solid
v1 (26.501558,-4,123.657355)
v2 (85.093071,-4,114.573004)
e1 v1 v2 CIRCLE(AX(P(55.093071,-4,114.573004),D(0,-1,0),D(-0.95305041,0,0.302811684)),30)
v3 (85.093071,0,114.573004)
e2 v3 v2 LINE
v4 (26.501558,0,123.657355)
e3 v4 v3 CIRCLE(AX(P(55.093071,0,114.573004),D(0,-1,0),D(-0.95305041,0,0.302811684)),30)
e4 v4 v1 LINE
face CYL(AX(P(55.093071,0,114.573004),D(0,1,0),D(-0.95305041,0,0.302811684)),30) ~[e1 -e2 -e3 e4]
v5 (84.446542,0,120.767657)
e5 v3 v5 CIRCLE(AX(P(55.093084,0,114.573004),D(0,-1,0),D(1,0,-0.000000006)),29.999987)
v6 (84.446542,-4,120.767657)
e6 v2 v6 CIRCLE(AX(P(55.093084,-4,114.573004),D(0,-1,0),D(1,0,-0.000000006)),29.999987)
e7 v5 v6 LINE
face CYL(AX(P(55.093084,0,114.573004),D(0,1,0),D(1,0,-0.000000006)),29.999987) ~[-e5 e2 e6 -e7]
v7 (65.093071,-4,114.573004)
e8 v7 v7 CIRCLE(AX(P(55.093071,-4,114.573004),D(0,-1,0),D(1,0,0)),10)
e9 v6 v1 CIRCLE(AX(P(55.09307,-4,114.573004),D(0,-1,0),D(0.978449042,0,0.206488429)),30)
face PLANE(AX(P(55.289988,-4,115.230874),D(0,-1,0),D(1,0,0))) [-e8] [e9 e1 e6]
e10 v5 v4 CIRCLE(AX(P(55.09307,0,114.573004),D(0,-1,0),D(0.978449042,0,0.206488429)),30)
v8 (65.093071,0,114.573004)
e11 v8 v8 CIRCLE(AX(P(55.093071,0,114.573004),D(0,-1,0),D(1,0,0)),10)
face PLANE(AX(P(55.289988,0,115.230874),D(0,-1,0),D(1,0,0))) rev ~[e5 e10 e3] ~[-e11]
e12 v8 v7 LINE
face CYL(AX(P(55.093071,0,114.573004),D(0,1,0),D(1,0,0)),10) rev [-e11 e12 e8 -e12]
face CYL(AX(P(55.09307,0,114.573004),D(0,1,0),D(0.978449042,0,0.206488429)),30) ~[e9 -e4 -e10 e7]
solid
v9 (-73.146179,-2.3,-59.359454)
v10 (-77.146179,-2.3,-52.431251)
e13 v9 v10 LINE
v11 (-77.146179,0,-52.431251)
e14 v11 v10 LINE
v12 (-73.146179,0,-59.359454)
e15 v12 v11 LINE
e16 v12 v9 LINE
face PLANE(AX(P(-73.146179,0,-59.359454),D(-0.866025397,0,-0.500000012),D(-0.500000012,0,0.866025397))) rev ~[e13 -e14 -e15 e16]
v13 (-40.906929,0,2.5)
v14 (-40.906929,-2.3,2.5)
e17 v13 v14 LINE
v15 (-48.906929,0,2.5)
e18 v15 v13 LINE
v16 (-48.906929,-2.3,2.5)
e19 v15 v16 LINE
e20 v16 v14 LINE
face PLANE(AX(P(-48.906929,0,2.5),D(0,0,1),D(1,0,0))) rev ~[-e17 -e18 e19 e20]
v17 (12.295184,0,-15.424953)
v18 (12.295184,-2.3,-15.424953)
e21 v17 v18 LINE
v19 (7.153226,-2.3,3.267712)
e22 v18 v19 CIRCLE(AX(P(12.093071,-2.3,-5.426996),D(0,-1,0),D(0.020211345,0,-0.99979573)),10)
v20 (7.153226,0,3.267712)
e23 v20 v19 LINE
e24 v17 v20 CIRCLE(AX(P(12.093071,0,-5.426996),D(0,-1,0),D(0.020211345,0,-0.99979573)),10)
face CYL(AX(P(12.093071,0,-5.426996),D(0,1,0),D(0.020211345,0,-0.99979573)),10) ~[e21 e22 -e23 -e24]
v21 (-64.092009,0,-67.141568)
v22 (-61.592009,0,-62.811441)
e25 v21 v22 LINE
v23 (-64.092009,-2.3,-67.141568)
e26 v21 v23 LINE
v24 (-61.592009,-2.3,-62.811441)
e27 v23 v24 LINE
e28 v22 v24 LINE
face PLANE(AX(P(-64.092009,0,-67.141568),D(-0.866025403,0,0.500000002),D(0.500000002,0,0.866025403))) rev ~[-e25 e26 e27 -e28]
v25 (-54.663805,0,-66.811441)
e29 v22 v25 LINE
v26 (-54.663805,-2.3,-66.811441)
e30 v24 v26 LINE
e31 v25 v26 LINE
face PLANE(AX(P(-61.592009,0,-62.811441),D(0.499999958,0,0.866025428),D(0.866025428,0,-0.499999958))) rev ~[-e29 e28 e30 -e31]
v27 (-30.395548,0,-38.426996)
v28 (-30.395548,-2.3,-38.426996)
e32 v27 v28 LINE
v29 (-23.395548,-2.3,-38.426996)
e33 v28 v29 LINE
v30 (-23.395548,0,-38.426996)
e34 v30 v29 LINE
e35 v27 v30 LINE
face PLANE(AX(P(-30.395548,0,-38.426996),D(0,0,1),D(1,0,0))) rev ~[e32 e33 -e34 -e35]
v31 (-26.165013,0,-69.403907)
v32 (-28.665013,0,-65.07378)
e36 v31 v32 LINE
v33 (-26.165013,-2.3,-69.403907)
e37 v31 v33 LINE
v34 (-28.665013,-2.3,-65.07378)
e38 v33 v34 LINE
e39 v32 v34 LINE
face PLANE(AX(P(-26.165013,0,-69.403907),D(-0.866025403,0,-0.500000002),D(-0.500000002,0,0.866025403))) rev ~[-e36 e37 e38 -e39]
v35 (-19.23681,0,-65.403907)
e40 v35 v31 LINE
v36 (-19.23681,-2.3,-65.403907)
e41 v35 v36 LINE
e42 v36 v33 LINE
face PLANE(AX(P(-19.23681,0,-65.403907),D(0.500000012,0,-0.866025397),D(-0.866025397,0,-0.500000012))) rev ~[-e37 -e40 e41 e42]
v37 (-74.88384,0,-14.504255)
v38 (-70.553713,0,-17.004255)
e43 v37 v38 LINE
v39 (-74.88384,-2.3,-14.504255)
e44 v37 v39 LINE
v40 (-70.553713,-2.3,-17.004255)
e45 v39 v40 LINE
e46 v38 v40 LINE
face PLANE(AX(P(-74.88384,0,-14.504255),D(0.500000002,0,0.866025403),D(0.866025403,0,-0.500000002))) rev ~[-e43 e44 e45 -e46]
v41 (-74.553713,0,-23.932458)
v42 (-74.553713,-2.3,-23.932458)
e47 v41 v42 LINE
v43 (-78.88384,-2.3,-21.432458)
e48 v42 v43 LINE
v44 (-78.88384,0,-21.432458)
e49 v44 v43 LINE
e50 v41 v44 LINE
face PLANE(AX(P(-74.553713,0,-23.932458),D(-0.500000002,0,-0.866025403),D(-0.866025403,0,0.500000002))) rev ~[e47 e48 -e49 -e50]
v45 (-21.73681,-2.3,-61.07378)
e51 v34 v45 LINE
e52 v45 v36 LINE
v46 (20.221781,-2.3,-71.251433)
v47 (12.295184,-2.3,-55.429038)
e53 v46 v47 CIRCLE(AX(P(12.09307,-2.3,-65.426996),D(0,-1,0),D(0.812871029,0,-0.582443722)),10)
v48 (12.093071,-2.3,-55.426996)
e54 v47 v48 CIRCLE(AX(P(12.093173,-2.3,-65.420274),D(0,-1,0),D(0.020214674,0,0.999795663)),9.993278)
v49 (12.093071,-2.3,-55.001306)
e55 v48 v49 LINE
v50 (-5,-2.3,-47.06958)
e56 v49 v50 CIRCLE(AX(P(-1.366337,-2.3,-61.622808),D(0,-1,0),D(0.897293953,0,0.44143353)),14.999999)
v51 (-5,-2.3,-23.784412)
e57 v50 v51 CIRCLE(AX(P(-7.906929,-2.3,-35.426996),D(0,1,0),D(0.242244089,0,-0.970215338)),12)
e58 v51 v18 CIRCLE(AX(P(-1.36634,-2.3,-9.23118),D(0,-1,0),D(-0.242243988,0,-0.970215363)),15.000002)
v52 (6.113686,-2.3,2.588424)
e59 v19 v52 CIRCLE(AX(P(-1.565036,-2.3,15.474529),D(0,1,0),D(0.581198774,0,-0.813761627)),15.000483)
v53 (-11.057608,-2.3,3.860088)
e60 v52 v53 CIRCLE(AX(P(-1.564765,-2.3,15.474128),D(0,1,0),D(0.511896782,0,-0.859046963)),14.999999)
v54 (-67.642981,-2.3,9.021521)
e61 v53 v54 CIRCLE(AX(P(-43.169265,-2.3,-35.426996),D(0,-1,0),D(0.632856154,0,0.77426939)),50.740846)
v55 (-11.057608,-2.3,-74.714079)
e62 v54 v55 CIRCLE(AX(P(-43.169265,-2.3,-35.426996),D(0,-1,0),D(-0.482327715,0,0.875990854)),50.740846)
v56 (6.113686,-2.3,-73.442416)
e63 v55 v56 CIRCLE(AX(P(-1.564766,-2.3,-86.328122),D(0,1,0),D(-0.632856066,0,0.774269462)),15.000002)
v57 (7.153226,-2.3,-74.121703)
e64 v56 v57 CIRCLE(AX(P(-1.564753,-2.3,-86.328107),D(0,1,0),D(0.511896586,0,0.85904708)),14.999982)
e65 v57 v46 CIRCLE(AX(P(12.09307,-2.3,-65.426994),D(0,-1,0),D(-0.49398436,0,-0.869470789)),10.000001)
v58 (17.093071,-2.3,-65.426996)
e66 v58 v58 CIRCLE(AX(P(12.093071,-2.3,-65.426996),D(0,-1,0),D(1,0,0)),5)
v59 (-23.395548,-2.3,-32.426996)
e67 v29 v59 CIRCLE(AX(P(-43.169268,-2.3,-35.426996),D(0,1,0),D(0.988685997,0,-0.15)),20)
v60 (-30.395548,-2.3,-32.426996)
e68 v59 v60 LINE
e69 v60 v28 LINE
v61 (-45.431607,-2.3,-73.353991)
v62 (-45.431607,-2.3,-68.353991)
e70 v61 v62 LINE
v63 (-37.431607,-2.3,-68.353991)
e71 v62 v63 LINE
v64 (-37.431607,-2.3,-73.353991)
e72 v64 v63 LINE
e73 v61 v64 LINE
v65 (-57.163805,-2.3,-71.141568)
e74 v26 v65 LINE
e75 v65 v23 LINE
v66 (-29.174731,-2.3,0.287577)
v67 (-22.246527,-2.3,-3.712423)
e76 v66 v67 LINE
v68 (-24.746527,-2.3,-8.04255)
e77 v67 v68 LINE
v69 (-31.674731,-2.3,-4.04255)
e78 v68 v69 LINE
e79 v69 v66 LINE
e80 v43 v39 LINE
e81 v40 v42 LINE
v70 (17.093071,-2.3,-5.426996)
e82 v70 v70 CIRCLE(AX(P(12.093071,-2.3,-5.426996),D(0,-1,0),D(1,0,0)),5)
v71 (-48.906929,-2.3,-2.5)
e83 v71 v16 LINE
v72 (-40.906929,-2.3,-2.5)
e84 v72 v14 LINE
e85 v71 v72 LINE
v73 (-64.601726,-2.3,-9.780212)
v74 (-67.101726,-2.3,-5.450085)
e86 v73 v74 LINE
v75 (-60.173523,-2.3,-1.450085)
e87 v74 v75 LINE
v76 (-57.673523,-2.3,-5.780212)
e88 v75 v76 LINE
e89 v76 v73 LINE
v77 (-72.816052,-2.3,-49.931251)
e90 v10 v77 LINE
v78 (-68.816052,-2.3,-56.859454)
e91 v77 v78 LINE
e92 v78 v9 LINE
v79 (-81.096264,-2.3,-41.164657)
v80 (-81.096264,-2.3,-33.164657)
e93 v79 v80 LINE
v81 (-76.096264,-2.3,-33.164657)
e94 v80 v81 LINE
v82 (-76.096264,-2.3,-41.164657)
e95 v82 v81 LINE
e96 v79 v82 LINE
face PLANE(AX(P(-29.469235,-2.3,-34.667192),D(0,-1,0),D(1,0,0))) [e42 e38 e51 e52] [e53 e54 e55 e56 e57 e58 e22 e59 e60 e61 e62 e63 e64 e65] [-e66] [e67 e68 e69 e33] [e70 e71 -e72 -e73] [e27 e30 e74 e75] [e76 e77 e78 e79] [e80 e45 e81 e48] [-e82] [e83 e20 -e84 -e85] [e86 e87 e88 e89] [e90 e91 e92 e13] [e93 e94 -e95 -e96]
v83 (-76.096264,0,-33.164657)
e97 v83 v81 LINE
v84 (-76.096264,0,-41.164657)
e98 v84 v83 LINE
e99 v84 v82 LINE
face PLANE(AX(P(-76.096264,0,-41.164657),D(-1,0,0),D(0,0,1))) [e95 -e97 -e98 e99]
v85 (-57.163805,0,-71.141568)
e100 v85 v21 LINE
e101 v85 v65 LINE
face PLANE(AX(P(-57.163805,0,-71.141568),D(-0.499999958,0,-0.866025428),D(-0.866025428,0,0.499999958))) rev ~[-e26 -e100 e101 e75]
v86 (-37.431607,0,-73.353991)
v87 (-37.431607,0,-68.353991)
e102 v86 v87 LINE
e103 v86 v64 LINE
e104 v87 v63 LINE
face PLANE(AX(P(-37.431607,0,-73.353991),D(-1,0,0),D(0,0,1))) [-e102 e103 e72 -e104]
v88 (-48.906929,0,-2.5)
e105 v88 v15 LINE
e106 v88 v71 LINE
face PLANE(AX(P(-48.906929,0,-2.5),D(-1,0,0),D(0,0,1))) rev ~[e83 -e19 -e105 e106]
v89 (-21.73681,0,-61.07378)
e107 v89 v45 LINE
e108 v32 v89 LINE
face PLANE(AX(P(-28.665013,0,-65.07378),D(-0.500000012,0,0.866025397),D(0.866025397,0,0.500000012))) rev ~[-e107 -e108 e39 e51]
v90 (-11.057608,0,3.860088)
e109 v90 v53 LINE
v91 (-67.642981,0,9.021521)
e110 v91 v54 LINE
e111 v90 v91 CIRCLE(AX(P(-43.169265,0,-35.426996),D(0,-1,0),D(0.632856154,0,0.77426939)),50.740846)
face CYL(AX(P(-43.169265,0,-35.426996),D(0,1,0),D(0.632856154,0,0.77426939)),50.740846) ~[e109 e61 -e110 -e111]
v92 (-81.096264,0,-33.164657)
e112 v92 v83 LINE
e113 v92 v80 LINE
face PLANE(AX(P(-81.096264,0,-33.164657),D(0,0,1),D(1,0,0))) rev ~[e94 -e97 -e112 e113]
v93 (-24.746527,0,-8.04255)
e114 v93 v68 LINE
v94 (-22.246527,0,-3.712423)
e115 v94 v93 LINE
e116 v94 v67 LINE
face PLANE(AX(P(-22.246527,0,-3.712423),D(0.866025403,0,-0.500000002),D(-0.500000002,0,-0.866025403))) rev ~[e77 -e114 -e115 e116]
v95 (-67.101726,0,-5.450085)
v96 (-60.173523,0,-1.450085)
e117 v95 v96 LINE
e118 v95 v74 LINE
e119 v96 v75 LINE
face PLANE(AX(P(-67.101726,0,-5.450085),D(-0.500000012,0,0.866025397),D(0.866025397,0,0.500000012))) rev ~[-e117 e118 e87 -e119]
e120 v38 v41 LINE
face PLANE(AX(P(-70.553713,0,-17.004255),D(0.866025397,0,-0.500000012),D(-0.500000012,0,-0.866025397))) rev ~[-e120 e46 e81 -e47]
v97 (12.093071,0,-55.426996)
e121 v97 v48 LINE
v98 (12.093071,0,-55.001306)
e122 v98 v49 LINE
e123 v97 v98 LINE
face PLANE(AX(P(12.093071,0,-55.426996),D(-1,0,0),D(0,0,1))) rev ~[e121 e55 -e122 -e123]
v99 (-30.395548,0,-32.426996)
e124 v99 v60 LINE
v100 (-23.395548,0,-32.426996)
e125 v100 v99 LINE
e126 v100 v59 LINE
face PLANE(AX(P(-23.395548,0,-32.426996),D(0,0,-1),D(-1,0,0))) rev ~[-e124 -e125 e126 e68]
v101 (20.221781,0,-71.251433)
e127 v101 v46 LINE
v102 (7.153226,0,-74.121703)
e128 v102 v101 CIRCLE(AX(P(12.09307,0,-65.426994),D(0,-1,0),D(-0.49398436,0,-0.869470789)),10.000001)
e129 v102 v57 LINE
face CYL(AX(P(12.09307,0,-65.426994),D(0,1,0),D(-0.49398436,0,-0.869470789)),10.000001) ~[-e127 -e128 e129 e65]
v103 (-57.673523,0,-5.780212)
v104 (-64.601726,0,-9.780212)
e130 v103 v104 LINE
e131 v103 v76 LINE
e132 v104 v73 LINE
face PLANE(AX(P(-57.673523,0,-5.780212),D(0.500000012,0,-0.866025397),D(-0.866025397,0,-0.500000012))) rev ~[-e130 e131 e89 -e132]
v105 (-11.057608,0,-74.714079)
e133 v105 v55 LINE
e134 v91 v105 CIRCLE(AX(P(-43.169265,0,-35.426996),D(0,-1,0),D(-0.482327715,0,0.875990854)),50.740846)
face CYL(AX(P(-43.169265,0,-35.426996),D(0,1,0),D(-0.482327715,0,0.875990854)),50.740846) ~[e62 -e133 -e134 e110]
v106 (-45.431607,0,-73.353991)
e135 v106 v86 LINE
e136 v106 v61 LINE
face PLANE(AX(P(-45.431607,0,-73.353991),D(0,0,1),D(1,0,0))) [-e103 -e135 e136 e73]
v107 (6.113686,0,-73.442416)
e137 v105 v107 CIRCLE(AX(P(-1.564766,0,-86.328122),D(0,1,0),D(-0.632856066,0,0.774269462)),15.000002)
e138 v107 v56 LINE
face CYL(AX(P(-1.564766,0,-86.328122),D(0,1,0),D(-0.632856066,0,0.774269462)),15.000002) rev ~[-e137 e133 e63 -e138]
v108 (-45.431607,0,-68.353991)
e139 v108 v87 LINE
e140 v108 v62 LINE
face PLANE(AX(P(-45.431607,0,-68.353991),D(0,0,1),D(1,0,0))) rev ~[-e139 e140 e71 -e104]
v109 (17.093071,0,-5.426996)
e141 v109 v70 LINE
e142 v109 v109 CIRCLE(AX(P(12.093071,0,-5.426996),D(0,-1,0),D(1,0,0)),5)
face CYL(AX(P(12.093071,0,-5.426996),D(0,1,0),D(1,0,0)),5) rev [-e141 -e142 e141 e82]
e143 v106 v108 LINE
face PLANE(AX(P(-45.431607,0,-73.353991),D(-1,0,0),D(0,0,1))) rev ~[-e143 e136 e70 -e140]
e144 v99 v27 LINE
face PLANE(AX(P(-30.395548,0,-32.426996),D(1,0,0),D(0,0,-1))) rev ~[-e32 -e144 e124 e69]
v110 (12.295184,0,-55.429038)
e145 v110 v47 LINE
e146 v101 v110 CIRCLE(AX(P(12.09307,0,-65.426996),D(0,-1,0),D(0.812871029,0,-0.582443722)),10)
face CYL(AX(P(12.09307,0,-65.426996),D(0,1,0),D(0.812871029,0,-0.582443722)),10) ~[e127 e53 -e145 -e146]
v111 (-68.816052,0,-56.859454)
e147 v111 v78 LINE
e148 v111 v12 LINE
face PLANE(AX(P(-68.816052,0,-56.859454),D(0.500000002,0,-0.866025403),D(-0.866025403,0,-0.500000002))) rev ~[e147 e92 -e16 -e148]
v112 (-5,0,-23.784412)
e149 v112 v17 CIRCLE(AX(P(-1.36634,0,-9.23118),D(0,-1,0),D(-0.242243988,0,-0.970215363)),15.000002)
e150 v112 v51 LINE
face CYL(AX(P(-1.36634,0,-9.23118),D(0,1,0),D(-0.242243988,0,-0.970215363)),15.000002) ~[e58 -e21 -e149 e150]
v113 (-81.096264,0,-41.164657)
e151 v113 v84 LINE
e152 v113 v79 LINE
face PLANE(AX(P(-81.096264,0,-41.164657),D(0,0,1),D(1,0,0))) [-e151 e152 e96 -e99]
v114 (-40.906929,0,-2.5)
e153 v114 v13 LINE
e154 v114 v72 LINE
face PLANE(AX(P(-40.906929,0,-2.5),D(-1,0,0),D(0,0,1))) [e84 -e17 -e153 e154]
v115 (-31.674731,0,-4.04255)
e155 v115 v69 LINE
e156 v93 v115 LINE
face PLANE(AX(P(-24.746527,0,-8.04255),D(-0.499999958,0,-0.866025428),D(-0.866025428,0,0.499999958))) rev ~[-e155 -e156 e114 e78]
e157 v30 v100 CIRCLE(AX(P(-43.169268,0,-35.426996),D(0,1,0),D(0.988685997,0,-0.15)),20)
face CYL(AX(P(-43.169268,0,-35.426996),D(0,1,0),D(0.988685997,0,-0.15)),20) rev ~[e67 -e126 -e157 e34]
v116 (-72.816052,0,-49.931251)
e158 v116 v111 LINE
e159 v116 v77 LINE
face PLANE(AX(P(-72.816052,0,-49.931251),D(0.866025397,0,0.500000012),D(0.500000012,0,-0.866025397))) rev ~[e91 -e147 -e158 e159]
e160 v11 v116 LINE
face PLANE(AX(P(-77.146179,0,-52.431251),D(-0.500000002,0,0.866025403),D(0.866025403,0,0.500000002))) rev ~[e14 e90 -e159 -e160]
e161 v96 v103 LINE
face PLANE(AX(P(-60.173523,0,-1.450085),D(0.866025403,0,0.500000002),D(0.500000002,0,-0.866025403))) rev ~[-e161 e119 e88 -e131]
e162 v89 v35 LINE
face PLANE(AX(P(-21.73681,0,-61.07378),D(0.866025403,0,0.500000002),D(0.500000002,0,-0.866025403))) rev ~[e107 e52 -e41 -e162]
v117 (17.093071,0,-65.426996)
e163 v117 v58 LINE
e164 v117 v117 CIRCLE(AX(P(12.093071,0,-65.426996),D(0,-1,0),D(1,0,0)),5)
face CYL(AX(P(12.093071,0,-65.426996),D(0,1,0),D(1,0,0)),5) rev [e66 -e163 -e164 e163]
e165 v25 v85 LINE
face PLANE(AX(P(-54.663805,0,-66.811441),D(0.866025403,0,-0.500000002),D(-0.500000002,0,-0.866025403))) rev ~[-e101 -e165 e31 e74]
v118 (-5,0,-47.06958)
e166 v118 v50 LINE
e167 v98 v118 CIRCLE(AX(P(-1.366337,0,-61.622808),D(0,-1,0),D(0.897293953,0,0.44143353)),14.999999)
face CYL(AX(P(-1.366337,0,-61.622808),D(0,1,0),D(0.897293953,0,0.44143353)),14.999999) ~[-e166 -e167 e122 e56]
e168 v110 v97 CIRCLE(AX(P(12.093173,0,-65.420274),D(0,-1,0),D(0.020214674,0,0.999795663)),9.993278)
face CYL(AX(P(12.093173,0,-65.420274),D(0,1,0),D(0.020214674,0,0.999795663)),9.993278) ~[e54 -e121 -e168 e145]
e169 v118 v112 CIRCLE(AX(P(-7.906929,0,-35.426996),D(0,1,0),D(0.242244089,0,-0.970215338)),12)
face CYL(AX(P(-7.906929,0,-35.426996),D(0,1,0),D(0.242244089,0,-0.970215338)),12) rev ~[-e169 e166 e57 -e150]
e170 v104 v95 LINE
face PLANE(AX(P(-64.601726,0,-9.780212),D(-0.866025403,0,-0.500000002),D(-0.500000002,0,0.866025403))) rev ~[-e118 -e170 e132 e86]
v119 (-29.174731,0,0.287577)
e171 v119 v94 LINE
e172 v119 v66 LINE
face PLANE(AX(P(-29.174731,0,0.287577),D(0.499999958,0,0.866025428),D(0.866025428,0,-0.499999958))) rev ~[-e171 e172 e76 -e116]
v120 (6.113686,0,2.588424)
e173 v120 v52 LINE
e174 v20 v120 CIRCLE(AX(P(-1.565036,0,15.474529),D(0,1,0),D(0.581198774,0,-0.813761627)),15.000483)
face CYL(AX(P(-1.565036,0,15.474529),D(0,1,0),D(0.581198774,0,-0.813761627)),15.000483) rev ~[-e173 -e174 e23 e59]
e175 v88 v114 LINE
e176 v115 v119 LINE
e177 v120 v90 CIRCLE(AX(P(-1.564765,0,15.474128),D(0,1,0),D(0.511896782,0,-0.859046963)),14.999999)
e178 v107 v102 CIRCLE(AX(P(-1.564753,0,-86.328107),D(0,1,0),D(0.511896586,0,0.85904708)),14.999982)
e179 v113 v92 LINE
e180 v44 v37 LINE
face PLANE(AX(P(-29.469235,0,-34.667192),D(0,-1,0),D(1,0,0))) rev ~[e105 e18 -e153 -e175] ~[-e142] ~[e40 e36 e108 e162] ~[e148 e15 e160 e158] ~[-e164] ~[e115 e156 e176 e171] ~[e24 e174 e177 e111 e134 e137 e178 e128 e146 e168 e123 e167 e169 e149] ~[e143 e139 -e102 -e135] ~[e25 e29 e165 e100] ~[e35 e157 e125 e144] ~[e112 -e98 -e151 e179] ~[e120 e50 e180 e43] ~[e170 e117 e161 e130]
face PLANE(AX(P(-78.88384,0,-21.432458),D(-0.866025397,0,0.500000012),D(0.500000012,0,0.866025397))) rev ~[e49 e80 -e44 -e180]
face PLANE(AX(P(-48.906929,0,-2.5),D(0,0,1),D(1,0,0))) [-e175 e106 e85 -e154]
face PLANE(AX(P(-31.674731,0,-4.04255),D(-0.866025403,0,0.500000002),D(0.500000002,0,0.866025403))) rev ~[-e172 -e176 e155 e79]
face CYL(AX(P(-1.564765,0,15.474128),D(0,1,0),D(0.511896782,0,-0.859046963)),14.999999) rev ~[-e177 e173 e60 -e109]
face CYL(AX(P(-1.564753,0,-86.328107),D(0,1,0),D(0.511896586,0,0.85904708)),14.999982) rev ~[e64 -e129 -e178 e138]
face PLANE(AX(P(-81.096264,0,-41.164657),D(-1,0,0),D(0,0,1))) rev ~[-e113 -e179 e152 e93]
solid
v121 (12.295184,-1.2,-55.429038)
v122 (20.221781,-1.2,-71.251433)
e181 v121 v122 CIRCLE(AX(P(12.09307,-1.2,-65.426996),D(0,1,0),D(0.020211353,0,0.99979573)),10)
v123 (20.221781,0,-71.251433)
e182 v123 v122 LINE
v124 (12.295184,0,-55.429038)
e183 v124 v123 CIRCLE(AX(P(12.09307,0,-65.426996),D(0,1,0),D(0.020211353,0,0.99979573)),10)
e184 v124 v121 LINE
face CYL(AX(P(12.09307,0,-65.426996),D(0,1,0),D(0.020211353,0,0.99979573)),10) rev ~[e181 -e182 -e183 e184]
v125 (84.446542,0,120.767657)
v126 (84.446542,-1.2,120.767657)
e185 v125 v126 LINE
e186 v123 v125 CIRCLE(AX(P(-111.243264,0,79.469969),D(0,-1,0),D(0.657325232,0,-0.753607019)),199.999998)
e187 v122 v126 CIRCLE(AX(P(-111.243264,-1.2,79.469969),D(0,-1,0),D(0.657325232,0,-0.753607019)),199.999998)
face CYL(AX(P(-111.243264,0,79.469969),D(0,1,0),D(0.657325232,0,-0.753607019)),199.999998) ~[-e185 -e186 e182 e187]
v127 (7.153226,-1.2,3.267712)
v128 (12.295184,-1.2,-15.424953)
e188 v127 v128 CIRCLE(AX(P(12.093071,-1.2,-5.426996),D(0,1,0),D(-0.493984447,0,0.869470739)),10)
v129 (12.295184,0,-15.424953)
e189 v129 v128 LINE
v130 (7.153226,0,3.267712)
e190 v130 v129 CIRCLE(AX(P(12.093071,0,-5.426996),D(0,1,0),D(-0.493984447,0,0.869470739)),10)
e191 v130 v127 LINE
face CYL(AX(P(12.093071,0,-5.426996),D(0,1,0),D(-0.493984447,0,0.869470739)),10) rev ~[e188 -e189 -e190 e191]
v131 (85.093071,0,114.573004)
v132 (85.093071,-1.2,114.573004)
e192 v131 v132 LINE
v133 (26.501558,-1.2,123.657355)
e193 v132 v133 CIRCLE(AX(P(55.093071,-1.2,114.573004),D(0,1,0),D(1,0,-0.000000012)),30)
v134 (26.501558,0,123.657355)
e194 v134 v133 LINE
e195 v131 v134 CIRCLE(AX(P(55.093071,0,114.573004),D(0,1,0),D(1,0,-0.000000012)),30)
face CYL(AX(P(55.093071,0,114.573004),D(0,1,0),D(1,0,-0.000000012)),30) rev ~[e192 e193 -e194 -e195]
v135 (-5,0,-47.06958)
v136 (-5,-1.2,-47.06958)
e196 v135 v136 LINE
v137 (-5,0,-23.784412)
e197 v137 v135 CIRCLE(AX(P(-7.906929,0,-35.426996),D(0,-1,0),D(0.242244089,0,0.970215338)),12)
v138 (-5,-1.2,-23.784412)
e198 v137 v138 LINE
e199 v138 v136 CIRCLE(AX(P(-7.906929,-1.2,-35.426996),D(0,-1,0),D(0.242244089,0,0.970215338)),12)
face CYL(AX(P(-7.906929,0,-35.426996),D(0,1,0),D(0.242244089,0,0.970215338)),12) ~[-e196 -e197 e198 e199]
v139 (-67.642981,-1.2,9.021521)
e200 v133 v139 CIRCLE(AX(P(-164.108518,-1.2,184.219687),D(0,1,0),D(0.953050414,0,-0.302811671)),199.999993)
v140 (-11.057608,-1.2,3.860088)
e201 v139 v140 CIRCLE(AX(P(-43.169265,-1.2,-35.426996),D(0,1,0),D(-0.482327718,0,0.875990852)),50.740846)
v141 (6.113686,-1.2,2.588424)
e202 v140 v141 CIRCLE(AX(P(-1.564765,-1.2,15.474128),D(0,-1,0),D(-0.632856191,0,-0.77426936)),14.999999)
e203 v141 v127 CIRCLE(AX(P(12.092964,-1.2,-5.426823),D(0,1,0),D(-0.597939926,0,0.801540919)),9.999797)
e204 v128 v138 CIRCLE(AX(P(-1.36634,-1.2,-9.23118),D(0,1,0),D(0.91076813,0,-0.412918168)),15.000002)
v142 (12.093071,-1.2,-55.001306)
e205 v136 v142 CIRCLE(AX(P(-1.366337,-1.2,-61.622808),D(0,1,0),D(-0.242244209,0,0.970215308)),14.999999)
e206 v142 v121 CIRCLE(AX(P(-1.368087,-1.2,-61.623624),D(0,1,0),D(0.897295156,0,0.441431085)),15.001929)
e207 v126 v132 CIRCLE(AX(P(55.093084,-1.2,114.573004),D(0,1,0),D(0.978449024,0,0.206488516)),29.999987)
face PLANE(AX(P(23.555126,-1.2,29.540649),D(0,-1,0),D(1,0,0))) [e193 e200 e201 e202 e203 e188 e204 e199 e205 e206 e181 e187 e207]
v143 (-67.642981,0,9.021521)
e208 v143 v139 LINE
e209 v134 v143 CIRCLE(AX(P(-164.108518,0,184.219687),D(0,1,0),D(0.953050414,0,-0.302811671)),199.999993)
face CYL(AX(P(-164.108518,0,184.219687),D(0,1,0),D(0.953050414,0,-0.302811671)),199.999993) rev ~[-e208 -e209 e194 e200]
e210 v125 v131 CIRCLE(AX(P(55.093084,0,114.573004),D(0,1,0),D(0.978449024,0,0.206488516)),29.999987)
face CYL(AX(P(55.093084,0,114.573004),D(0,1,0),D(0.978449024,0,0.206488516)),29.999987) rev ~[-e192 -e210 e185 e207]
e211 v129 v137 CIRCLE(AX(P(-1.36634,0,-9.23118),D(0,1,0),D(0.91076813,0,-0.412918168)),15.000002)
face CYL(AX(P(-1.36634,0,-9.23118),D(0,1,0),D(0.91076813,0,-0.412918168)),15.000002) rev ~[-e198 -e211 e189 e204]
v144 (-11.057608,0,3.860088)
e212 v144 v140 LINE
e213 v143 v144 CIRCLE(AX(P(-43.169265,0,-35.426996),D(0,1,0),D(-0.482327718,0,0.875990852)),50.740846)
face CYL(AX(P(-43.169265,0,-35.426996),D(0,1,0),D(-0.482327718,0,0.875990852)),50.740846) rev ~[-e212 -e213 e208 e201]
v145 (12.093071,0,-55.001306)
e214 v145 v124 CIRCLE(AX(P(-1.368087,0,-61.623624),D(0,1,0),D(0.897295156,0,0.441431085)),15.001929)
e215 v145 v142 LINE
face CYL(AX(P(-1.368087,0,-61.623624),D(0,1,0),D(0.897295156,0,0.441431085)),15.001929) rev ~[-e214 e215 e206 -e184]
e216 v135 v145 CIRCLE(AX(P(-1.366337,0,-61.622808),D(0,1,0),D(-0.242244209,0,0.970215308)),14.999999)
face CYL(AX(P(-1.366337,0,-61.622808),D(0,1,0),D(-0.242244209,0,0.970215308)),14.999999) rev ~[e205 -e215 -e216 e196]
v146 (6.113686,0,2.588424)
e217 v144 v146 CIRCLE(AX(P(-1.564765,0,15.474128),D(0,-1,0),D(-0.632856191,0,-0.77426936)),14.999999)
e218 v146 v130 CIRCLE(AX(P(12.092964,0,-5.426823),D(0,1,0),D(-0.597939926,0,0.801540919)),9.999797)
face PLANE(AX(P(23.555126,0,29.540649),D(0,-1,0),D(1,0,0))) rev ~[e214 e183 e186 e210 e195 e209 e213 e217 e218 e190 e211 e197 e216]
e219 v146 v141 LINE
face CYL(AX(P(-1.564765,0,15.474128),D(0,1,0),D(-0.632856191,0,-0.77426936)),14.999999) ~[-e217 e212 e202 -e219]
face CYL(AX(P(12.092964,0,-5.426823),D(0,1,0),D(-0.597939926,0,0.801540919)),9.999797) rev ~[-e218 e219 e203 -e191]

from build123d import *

# Parameters (mm, degrees)
F0_W     = 5
F0_H     = 8
F0_W_2   = 8
F0_H_2   = 5
F0_R     = 5
F1_DEPTH = 2.3
F0_R_2   = 10
F2_DEPTH = 4
F3_DEPTH = 1.2


with BuildPart() as f1:
    # F0 (on Front) → F1 (new body)
    with BuildSketch(Plane.XZ):
        with BuildLine():
            ThreePointArc((7.153226, -74.121703), (14.238258, -75.194194), (20.221781, -71.251433))
            ThreePointArc((20.221781, -71.251433), (21.033859, -60.947899), (12.295184, -55.429038))
            ThreePointArc((12.295184, -55.429038), (12.194133, -55.427506), (12.093071, -55.426996))
            Line((12.093071, -55.426996), (12.093071, -55.001306))
            ThreePointArc((12.093071, -55.001306), (4.947488, -48.016355), (-5, -47.06958))
            ThreePointArc((-5, -47.06958), (-19.906929, -35.426996), (-5, -23.784412))
            ThreePointArc((-5, -23.784412), (5.161267, -22.736379), (12.295184, -15.424953))
            ThreePointArc((12.295184, -15.424953), (21.73493, -2.774723), (7.153226, 3.267712))
            ThreePointArc((7.153226, 3.267712), (6.640488, 2.917306), (6.113686, 2.588424))
            ThreePointArc((6.113686, 2.588424), (-2.672595, 0.515094), (-11.057608, 3.860088))
            ThreePointArc((-11.057608, 3.860088), (-38.560075, 15.104072), (-67.642981, 9.021521))
            ThreePointArc((-67.642981, 9.021521), (-85.210878, -63.837138), (-11.057608, -74.714079))
            ThreePointArc((-11.057608, -74.714079), (-2.672595, -71.369086), (6.113686, -73.442416))
            ThreePointArc((6.113686, -73.442416), (6.640488, -73.771297), (7.153226, -74.121703))
        make_face()
        Polygon((-54.663805, -66.811441), (-57.163805, -71.141568), (-64.092009, -67.141568), (-61.592009, -62.811441), align=None, mode=Mode.SUBTRACT)
        Polygon((-68.816052, -56.859454), (-73.146179, -59.359454), (-77.146179, -52.431251), (-72.816052, -49.931251), align=None, mode=Mode.SUBTRACT)
        with Locations((-78.596264, -37.164657)):
            Rectangle(F0_W, F0_H, mode=Mode.SUBTRACT)
        with Locations((-41.431607, -70.853991)):
            Rectangle(F0_W_2, F0_H_2, mode=Mode.SUBTRACT)
        Polygon((-21.73681, -61.07378), (-19.23681, -65.403907), (-26.165013, -69.403907), (-28.665013, -65.07378), align=None, mode=Mode.SUBTRACT)
        with BuildLine():
            ThreePointArc((-23.395548, -38.426996), (-63.169268, -35.426996), (-23.395548, -32.426996))
            Line((-23.395548, -32.426996), (-30.395548, -32.426996))
            Line((-30.395548, -32.426996), (-30.395548, -38.426996))
            Line((-30.395548, -38.426996), (-23.395548, -38.426996))
        make_face(mode=Mode.SUBTRACT)
        Polygon((-74.553713, -23.932458), (-78.88384, -21.432458), (-74.88384, -14.504255), (-70.553713, -17.004255), align=None, mode=Mode.SUBTRACT)
        Polygon((-64.601726, -9.780212), (-67.101726, -5.450085), (-60.173523, -1.450085), (-57.673523, -5.780212), align=None, mode=Mode.SUBTRACT)
        with Locations((-44.906929, 0)):
            Rectangle(F0_W_2, F0_H_2, mode=Mode.SUBTRACT)
        Polygon((-31.674731, -4.04255), (-29.174731, 0.287577), (-22.246527, -3.712423), (-24.746527, -8.04255), align=None, mode=Mode.SUBTRACT)
        with Locations((12.093071, -65.426996)):
            Circle(F0_R, mode=Mode.SUBTRACT)
        with Locations((12.093071, -5.426996)):
            Circle(F0_R, mode=Mode.SUBTRACT)
    extrude(amount=F1_DEPTH)


with BuildPart() as f2:
    # F0 (on Front) → F2 (new body)
    with BuildSketch(Plane.XZ):
        with BuildLine():
            ThreePointArc((26.501558, 123.657355), (50.496625, 84.927217), (85.093071, 114.573004))
            ThreePointArc((85.093071, 114.573004), (84.931001, 117.687154), (84.446542, 120.767657))
            ThreePointArc((84.446542, 120.767657), (56.587304, 144.535769), (26.501558, 123.657355))
        make_face()
        with Locations((55.093071, 114.573004)):
            Circle(F0_R_2, mode=Mode.SUBTRACT)
    extrude(amount=F2_DEPTH)


with BuildPart() as f3:
    # F0 (on Front) → F3 (new body)
    with BuildSketch(Plane.XZ):
        with BuildLine():
            ThreePointArc((84.446542, 120.767657), (84.931001, 117.687154), (85.093071, 114.573004))
            ThreePointArc((85.093071, 114.573004), (50.496625, 84.927217), (26.501558, 123.657355))
            ThreePointArc((26.501558, 123.657355), (-9.549644, 57.2884), (-67.642981, 9.021521))
            ThreePointArc((-67.642981, 9.021521), (-38.560075, 15.104072), (-11.057608, 3.860088))
            ThreePointArc((-11.057608, 3.860088), (-2.672595, 0.515094), (6.113686, 2.588424))
            ThreePointArc((6.113686, 2.588424), (6.622901, 2.94422), (7.153226, 3.267712))
            ThreePointArc((7.153226, 3.267712), (21.73493, -2.774723), (12.295184, -15.424953))
            ThreePointArc((12.295184, -15.424953), (5.161267, -22.736379), (-5, -23.784412))
            ThreePointArc((-5, -23.784412), (-19.906929, -35.426996), (-5, -47.06958))
            ThreePointArc((-5, -47.06958), (4.947488, -48.016355), (12.093071, -55.001306))
            ThreePointArc((12.093071, -55.001306), (12.195814, -55.214376), (12.295184, -55.429038))
            ThreePointArc((12.295184, -55.429038), (21.033859, -60.947899), (20.221781, -71.251433))
            ThreePointArc((20.221781, -71.251433), (78.428576, 16.030295), (84.446542, 120.767657))
        make_face()
    extrude(amount=F3_DEPTH)


solid = Compound([f1.part, f2.part, f3.part])
